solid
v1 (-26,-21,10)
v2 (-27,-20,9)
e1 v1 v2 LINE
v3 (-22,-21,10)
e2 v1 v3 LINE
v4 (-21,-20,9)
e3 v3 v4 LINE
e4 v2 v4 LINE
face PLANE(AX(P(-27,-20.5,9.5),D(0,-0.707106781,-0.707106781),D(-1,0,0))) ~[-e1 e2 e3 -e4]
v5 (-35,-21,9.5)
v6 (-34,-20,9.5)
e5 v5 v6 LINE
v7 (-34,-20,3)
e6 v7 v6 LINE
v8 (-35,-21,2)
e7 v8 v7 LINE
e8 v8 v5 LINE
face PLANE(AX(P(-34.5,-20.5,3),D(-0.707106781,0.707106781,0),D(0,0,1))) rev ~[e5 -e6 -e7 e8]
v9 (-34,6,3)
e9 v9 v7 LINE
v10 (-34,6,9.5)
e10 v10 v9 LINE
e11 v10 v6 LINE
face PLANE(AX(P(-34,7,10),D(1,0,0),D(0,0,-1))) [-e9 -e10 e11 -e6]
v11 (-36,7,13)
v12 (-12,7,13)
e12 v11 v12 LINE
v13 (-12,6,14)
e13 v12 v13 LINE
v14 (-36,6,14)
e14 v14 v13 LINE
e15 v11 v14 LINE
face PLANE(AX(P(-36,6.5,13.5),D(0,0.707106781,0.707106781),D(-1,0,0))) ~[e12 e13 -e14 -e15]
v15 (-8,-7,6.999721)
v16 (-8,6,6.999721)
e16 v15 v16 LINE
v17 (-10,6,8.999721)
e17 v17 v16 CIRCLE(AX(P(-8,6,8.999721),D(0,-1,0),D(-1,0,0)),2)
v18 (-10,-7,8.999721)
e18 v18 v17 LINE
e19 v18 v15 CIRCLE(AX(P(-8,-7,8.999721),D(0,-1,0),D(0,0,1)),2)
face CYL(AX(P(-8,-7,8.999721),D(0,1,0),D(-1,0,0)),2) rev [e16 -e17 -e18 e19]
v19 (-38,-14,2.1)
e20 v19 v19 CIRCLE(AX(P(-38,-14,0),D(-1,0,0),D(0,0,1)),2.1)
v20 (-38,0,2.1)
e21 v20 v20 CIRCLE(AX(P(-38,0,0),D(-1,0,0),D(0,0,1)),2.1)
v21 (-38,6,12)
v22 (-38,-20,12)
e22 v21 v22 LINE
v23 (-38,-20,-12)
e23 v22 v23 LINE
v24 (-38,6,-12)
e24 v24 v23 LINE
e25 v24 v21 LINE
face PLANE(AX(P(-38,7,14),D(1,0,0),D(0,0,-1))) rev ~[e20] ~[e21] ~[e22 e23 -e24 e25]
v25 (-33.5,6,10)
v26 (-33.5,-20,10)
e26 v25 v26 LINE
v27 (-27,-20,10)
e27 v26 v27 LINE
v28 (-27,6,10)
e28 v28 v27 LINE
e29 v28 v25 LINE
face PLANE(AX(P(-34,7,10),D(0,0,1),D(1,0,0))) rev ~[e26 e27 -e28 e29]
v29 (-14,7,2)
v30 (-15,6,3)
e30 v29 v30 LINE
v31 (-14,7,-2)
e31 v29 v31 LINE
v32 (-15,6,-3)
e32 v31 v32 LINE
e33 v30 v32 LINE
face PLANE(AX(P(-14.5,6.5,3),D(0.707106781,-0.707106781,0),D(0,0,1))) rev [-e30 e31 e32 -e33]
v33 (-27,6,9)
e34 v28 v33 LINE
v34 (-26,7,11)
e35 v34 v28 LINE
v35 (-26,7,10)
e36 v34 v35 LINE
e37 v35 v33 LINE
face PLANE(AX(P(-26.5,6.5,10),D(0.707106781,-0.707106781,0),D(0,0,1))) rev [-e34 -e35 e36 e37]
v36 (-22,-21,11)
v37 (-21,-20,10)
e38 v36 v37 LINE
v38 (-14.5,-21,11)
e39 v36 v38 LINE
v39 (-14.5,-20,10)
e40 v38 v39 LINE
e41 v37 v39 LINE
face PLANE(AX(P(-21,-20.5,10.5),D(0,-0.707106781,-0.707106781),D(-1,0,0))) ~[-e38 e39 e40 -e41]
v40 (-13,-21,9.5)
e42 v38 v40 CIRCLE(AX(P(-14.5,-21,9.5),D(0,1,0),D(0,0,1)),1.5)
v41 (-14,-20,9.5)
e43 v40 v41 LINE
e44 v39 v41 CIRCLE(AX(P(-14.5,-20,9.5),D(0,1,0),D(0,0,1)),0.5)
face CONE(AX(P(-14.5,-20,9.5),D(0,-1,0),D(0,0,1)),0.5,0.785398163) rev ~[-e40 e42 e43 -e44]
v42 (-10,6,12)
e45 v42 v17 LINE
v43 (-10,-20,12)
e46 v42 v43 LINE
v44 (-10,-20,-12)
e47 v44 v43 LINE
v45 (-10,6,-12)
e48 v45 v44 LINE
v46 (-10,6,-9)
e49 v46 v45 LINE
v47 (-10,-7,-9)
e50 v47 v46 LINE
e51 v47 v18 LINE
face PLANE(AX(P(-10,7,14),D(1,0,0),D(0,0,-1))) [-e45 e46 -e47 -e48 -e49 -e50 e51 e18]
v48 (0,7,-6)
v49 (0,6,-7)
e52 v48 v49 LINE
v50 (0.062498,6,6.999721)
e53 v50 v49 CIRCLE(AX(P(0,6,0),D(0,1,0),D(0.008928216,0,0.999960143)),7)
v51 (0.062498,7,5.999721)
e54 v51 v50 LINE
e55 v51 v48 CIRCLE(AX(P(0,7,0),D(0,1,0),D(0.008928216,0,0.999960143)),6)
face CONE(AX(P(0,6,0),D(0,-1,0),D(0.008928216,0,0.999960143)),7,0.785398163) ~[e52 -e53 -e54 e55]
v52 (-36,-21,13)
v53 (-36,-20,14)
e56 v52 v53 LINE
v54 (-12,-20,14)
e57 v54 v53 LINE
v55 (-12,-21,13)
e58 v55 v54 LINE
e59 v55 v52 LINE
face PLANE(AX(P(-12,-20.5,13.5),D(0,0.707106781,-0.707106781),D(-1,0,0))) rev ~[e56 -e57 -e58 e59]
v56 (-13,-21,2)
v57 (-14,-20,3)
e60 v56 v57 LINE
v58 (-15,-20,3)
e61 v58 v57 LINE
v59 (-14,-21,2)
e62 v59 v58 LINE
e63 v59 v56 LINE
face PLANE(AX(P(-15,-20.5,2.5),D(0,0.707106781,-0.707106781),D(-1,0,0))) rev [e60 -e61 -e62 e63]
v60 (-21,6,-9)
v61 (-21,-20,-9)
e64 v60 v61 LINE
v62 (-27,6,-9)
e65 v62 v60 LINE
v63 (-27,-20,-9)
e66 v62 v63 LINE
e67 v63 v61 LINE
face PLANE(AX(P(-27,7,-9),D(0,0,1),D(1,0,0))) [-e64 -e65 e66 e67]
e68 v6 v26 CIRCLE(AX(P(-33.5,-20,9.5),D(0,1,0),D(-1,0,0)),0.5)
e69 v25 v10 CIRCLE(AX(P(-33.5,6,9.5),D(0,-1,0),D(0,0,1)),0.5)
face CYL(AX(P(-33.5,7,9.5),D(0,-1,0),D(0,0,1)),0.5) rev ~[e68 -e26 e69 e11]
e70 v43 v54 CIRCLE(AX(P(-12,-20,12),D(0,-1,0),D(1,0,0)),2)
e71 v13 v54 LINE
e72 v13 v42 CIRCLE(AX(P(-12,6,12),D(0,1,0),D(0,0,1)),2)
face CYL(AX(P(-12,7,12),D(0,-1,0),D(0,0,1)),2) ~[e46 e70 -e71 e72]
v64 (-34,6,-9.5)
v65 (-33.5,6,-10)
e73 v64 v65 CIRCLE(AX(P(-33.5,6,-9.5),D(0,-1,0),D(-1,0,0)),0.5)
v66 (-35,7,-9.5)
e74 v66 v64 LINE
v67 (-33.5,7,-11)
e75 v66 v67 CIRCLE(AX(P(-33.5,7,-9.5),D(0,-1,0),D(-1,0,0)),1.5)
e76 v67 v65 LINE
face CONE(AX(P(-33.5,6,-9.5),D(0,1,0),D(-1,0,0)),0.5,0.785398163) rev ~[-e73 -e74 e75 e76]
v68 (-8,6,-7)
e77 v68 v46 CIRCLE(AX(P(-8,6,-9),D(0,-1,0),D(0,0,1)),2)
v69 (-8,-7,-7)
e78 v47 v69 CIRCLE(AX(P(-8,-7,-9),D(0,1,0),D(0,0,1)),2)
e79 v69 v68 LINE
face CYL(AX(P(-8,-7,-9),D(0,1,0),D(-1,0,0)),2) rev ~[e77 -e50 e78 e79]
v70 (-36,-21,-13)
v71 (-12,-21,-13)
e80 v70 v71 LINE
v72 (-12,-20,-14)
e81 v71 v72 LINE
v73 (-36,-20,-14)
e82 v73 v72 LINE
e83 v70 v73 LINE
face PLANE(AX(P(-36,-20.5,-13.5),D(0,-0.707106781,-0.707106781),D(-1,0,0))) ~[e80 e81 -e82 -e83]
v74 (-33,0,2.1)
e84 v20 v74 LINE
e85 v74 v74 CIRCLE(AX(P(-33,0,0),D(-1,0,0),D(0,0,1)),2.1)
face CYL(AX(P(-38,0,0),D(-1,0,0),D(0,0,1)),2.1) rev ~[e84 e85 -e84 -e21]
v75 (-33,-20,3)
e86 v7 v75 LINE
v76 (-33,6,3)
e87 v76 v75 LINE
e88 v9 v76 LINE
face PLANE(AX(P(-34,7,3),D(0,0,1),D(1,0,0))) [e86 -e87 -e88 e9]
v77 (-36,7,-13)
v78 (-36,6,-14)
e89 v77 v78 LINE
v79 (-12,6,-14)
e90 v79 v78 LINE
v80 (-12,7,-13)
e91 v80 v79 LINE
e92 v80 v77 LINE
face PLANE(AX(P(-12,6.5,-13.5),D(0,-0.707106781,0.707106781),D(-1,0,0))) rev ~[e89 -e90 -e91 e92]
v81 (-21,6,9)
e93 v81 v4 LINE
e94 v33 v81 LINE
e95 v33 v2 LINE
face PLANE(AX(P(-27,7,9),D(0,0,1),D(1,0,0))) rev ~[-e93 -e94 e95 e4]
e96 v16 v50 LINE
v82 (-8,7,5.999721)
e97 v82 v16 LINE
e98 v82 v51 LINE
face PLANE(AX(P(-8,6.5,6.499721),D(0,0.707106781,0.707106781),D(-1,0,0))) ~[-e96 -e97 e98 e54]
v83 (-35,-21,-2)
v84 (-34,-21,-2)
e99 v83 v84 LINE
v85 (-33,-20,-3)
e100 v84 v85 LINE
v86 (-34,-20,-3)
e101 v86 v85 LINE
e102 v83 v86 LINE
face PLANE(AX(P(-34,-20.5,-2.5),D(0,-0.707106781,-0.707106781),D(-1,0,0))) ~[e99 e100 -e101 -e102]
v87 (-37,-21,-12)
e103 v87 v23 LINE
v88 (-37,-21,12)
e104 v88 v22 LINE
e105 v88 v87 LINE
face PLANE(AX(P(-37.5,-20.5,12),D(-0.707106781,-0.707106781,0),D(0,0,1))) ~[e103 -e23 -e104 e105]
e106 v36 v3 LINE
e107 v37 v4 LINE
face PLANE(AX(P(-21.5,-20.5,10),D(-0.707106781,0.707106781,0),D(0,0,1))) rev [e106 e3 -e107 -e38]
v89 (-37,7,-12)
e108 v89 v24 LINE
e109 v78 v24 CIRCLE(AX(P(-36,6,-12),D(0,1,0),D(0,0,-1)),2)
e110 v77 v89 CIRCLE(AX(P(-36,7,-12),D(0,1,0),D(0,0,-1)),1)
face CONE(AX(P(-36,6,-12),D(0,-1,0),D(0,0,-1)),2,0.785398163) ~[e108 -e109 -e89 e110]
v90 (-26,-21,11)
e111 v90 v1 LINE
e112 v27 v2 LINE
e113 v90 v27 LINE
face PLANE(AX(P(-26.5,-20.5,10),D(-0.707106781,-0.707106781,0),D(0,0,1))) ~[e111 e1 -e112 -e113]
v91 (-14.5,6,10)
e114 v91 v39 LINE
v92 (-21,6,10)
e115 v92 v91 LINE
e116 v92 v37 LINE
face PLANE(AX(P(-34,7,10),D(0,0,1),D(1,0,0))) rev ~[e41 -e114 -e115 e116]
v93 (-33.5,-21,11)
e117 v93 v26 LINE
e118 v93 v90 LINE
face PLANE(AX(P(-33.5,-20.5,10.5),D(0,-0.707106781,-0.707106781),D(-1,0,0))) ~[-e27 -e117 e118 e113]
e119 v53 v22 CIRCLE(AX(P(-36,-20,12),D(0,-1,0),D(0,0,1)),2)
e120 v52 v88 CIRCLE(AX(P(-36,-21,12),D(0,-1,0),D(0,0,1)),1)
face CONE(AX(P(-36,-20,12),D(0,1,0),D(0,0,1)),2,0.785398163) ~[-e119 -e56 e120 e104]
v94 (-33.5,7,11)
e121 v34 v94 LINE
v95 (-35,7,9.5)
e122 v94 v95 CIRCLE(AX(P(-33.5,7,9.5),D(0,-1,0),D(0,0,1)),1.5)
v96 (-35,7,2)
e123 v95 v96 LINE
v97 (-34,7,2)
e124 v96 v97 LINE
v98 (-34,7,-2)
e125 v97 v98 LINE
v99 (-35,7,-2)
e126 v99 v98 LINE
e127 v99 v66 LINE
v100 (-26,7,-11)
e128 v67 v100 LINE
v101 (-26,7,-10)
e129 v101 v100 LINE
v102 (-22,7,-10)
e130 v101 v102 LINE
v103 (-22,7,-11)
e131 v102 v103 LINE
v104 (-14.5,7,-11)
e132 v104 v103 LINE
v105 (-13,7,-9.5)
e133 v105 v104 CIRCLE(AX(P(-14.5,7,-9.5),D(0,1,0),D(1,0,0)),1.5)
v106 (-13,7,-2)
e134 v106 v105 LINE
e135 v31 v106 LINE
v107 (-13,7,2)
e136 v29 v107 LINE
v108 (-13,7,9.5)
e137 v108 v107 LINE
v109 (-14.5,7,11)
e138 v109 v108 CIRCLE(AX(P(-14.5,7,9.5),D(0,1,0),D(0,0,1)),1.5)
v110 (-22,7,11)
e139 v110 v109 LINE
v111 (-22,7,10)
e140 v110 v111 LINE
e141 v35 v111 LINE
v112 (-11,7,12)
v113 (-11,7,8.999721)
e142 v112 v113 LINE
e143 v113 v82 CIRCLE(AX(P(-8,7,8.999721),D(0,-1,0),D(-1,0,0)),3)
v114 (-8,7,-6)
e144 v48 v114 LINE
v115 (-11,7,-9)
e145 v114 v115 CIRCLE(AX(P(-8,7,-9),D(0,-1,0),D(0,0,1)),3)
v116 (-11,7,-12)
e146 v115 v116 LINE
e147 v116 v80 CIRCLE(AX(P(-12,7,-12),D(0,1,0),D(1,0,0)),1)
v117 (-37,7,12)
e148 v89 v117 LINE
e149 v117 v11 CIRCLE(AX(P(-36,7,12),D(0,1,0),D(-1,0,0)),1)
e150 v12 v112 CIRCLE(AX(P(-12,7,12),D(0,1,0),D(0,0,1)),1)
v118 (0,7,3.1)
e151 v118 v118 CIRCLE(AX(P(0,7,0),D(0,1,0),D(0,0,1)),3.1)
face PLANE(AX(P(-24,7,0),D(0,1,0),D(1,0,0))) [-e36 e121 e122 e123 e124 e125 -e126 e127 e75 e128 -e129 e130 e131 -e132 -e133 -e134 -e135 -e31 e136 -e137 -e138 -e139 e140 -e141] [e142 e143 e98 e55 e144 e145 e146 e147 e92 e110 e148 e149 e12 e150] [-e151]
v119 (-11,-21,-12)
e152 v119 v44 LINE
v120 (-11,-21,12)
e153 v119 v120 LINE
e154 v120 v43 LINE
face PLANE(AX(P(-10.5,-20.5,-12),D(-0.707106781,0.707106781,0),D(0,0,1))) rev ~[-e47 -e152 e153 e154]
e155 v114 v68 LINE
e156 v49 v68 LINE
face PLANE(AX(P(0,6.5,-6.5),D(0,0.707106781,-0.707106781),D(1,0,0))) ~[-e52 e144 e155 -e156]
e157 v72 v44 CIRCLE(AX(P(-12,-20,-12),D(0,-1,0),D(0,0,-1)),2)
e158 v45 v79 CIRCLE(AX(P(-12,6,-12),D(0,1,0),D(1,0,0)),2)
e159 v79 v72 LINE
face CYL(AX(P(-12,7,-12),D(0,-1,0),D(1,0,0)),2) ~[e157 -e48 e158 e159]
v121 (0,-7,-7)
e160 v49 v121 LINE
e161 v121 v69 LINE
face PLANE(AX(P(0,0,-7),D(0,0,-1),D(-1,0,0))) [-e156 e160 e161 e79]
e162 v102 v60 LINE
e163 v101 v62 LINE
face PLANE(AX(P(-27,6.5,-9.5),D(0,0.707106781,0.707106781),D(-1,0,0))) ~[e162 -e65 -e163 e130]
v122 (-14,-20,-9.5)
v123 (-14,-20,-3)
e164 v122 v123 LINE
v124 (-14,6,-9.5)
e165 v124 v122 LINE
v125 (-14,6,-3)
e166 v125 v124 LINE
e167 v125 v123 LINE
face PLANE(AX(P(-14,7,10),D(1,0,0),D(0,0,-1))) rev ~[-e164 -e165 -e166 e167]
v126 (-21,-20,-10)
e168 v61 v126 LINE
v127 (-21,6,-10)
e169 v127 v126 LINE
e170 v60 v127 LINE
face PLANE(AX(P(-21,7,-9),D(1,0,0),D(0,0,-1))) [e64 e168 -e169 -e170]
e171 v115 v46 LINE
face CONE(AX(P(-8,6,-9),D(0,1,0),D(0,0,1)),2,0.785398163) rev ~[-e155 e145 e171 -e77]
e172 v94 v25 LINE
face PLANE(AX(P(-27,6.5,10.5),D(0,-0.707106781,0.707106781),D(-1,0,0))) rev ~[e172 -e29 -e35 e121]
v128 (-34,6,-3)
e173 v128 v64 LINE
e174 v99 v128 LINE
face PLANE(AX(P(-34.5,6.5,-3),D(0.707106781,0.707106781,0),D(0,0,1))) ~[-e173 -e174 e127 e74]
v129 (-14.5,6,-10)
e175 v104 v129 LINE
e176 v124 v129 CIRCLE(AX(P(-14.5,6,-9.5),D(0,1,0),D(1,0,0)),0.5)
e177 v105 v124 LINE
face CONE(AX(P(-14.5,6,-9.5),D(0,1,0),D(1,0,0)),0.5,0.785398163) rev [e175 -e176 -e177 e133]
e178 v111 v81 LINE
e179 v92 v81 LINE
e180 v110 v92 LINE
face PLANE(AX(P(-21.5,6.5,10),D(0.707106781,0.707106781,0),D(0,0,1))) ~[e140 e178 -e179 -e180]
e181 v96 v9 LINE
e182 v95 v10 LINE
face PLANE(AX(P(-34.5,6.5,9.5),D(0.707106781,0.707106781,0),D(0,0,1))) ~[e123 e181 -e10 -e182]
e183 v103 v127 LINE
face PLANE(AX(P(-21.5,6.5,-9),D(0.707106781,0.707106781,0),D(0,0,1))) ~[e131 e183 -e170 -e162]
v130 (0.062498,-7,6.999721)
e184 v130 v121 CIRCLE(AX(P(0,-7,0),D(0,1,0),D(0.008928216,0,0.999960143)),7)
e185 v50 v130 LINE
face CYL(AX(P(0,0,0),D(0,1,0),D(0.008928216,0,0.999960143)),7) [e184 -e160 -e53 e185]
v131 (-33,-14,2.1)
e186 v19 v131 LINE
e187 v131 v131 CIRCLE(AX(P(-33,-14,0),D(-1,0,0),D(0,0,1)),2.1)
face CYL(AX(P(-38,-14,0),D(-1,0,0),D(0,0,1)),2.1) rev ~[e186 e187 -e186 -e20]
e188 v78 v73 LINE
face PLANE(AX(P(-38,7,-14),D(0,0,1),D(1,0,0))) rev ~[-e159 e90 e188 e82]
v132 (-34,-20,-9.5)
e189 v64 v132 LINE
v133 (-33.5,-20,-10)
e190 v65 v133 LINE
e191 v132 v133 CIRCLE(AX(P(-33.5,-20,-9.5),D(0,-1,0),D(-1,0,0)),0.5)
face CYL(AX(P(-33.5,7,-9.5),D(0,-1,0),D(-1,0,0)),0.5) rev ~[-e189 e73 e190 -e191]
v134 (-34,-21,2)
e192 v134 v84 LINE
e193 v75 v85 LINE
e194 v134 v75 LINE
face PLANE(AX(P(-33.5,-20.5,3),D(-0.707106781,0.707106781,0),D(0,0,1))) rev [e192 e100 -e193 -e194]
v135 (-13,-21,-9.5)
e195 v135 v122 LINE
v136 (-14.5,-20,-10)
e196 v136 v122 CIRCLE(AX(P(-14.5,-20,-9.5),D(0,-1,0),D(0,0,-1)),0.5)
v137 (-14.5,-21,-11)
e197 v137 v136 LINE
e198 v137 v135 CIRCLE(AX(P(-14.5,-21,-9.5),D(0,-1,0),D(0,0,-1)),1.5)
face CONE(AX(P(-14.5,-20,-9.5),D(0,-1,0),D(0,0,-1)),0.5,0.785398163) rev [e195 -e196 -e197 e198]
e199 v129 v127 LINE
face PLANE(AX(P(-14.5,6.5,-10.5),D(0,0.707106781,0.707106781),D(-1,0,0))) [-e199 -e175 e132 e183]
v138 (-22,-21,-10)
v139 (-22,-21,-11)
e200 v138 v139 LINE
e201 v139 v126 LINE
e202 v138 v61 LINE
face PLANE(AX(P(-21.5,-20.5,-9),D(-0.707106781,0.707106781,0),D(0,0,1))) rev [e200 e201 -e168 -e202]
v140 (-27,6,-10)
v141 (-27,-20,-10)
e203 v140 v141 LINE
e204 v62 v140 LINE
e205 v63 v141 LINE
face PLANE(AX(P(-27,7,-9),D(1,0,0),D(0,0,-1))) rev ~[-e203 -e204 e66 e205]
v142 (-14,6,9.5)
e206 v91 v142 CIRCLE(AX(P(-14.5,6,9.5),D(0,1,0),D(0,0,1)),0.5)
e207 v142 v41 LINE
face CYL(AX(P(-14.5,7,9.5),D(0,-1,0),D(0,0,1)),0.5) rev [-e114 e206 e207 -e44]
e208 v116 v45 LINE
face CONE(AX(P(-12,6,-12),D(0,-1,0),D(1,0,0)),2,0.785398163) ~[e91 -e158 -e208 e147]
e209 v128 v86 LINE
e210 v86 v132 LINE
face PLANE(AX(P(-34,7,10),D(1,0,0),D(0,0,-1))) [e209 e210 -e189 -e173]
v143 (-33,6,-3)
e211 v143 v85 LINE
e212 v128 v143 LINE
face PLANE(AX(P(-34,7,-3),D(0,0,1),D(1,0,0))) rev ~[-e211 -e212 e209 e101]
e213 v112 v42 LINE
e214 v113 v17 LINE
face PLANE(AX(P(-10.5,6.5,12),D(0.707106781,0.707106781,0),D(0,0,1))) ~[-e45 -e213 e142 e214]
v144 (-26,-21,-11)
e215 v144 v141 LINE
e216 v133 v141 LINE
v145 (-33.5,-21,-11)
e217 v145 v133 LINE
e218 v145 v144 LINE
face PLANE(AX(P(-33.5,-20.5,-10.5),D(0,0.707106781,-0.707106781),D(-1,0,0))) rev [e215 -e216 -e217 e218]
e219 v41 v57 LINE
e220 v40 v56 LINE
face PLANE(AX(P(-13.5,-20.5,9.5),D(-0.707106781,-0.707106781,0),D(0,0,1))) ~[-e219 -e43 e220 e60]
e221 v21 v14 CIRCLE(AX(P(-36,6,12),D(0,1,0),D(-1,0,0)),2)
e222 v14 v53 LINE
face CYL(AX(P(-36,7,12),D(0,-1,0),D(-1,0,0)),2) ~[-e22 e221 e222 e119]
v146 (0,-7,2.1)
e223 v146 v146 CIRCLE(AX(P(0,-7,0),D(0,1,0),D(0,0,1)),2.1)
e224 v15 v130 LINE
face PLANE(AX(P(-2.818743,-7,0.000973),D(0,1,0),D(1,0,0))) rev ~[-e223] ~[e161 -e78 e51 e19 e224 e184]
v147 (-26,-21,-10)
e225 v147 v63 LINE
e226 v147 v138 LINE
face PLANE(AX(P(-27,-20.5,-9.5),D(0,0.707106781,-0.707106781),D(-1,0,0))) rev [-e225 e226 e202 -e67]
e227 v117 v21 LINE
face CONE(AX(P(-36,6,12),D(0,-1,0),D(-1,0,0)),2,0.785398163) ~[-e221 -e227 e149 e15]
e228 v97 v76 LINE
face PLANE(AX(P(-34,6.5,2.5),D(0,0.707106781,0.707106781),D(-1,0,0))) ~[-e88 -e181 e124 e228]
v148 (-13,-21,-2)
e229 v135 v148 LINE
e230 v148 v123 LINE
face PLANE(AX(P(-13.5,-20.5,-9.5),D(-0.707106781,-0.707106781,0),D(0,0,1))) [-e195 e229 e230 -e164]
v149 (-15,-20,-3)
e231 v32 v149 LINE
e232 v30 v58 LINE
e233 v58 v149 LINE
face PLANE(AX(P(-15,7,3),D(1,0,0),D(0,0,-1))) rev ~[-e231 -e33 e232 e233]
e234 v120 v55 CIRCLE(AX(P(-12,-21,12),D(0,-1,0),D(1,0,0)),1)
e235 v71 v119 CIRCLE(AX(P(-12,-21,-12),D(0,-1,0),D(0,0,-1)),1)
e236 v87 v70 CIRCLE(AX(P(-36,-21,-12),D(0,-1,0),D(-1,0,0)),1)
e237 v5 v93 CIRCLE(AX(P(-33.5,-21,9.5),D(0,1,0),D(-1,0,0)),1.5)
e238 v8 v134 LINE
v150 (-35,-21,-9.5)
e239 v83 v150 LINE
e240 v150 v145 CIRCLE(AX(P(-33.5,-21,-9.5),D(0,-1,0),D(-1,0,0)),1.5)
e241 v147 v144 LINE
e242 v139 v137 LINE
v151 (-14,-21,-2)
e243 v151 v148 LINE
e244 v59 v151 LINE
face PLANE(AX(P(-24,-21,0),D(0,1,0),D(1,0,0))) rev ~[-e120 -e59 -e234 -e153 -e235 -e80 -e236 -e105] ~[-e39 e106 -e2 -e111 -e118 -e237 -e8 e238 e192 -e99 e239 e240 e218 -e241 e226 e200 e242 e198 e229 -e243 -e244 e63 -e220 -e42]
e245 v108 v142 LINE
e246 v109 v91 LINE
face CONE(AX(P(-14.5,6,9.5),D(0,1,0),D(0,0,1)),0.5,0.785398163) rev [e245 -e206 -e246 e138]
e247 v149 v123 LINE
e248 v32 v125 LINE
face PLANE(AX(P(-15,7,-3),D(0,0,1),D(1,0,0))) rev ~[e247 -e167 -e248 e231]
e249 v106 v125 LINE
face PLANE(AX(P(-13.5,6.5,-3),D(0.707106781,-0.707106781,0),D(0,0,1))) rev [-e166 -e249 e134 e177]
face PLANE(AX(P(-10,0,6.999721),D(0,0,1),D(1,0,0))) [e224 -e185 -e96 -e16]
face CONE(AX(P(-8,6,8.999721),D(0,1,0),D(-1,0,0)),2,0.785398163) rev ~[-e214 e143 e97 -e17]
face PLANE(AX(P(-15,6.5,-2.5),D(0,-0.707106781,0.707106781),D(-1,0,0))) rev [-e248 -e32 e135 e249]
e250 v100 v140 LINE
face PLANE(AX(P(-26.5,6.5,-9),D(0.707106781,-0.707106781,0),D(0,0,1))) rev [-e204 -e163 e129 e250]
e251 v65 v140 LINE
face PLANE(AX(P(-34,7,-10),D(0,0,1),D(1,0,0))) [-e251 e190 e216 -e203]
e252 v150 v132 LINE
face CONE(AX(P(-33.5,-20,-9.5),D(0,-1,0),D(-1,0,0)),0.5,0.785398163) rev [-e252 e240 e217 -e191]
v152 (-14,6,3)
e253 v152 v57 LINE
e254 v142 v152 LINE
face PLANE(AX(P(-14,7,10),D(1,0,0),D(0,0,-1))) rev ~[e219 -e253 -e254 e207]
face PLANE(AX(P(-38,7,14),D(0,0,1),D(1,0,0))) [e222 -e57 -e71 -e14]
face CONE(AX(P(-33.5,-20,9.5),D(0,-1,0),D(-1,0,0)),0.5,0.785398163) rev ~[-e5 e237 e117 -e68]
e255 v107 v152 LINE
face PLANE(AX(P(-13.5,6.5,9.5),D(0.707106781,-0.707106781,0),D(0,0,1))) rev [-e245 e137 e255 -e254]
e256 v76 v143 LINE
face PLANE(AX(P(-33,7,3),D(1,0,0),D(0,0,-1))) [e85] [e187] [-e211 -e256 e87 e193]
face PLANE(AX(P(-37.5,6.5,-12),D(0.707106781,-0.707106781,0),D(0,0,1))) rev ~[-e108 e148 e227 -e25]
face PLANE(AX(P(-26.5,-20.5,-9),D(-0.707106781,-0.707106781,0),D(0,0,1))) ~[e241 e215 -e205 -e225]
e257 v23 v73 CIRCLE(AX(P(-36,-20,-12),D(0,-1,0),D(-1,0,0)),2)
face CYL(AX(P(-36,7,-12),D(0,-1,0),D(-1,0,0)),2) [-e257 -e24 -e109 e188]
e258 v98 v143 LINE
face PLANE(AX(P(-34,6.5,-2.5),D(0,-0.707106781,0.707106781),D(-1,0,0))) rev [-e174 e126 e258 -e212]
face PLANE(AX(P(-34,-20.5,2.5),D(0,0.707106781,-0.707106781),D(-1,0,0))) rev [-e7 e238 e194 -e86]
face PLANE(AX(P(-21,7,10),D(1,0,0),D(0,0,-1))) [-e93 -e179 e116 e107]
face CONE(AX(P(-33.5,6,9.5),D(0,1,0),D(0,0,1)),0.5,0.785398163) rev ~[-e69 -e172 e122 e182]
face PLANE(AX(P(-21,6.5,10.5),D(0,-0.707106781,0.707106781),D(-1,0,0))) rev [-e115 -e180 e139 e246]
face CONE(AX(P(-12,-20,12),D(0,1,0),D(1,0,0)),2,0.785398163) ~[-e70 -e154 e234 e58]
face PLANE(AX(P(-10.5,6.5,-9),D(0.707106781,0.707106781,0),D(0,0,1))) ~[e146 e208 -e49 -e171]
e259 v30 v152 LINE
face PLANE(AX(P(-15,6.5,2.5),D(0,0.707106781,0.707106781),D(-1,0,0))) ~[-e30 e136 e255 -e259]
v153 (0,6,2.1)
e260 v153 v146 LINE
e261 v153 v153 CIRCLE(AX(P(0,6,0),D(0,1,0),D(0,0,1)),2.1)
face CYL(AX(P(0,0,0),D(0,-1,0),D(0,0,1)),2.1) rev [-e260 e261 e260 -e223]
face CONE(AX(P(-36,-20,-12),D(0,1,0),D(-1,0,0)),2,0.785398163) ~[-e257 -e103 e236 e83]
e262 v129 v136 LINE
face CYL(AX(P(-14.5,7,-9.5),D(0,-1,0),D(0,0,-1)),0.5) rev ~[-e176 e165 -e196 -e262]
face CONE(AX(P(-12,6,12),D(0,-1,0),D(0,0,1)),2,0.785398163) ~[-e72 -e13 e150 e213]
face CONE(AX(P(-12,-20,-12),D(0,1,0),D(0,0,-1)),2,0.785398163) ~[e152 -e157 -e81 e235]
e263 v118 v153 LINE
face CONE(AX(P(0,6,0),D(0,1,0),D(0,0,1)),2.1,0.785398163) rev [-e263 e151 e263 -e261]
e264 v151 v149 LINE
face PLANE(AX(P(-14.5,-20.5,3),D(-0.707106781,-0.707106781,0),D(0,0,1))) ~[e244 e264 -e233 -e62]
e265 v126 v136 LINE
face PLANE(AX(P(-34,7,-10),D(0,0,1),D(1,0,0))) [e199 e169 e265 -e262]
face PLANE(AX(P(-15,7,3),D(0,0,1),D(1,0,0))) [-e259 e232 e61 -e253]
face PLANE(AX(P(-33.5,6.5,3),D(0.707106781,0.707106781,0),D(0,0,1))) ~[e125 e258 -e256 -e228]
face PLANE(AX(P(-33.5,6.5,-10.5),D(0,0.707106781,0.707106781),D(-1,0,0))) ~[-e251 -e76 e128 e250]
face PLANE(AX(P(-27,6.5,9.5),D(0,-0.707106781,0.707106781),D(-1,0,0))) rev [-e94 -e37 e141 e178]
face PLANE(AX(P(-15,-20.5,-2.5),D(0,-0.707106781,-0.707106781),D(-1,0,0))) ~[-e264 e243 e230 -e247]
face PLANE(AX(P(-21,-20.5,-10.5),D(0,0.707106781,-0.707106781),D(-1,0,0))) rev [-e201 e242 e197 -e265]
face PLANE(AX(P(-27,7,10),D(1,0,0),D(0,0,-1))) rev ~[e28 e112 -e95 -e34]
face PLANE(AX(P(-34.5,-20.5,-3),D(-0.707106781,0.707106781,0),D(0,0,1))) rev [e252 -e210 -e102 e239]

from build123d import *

# Parameters (mm, degrees)
CROQUIS1_R              = 2.1
SALIENTE_EXTRUIR1_DEPTH = 7
CROQUIS2_W              = 28
CROQUIS2_H              = 28
CROQUIS2_W_2            = 20
CROQUIS2_H_2            = 20
SALIENTE_EXTRUIR2_DEPTH = 28
CROQUIS3_W              = 6
CROQUIS3_H              = 1
CROQUIS3_W_2            = 1
CROQUIS3_H_2            = 6
SALIENTE_EXTRUIR3_DEPTH = 28
REDONDEO1_R             = 0.5
REDONDEO2_R             = 2
REDONDEO3_R             = 2
CHAFL_N1_SIZE           = 1
CHAFL_N3_SIZE           = 1
CORTAR_EXTRUIR2_REACH   = 53.595
CROQUIS4_R              = 2.1


with BuildPart() as part:
    # Croquis1 → Saliente-Extruir1 (new, symmetric)
    with BuildSketch(Plane(origin=(0, 0, 0), x_dir=(1, 0, 0), z_dir=(0, 1, 0))):
        with BuildLine():
            Line((0, 7), (-10, 7))
            Line((-10, 7), (-10, -6.999720999))
            Line((-10, -6.999720999), (0.062497509, -6.999720999))
            ThreePointArc((0.062497509, -6.999720999), (6.999930249, 0.031249066), (0, 7))
        make_face()
        with Locations(Location((0, 0, 0), (0, 0, 270))):
            Circle(CROQUIS1_R, mode=Mode.SUBTRACT)
    extrude(amount=SALIENTE_EXTRUIR1_DEPTH, both=True)

    # Croquis2 → Saliente-Extruir2 (add)
    with BuildSketch(Plane(origin=(0, 7, 0), x_dir=(1, 0, 0), z_dir=(0, 1, 0))):
        with Locations((-24, 0)):
            Rectangle(CROQUIS2_W, CROQUIS2_H)
        with Locations((-24, 0)):
            Rectangle(CROQUIS2_W_2, CROQUIS2_H_2, mode=Mode.SUBTRACT)
    extrude(amount=-SALIENTE_EXTRUIR2_DEPTH)

    # Croquis3 → Saliente-Extruir3 (add, through all)
    with BuildSketch(Plane(origin=(0, 7, 0), x_dir=(1, 0, 0), z_dir=(0, 1, 0))):
        with Locations((-24, 9.5)):
            Rectangle(CROQUIS3_W, CROQUIS3_H)
        with Locations((-14.5, 0)):
            Rectangle(CROQUIS3_W_2, CROQUIS3_H_2)
        with Locations((-24, -9.5)):
            Rectangle(CROQUIS3_W, CROQUIS3_H)
        with Locations((-33.5, 0)):
            Rectangle(CROQUIS3_W_2, CROQUIS3_H_2)
    extrude(amount=-SALIENTE_EXTRUIR3_DEPTH)

    # Redondeo1
    redondeo1_edges = [part.edges().sort_by_distance(p)[0] for p in [
        (-14, -7, 10),
        (-34, -7, 10),
        (-34, -7, -10),
        (-14, -7, -10),
    ]]
    fillet(redondeo1_edges, radius=REDONDEO1_R)

    # Redondeo2
    redondeo2_edges = [part.edges().sort_by_distance(p)[0] for p in [
        (-10, -7, -14),
        (-10, -7, 14),
        (-38, -7, 14),
        (-38, -7, -14),
    ]]
    fillet(redondeo2_edges, radius=REDONDEO2_R)

    # Redondeo3
    redondeo3_edges = [part.edges().sort_by_distance(p)[0] for p in [
        (-10, 0, 6.999720999),
        (-10, 0, -7),
    ]]
    fillet(redondeo3_edges, radius=REDONDEO3_R)

    # Chaflán1
    chafl_n1_edges = [part.edges().sort_by_distance(p)[0] for p in [
        (-30.25, -21, 10),
        (-14.146446609, -21, 9.853553391),
        (-14.146446609, -21, -9.853553391),
        (-33.853553391, -21, -9.853553391),
        (-33.853553391, -21, 9.853553391),
        (-24, -21, -14),
        (-38, -21, 0),
        (-10, -21, 0),
        (-24, -21, 14),
        (-10.585786438, -21, 13.414213562),
        (-37.414213562, -21, 13.414213562),
        (-10.585786438, -21, -13.414213562),
        (-37.414213562, -21, -13.414213562),
        (-30.25, -21, -10),
        (-21, -21, -9.5),
        (-24, -21, -9),
        (-27, -21, -9.5),
        (-14, -21, -6.25),
        (-14.5, -21, 3),
        (-15, -21, 0),
        (-14.5, -21, -3),
        (-17.75, -21, 10),
        (-27, -21, 9.5),
        (-24, -21, 9),
        (-21, -21, 9.5),
        (-34, -21, 6.25),
        (-33, -21, 0),
        (-33.5, -21, 3),
        (-33.5, -21, -3),
        (-14, -21, 6.25),
        (-17.75, -21, -10),
        (-34, -21, -6.25),
    ]]
    chamfer(chafl_n1_edges, length=CHAFL_N1_SIZE)

    # Chaflán3
    chafl_n3_edges = [part.edges().sort_by_distance(p)[0] for p in [
        (-21, 7, -9.5),
        (-24, 7, -9),
        (-27, 7, -9.5),
        (-30.25, 7, -10),
        (-33.853553391, 7, -9.853553391),
        (-34, 7, -6.25),
        (-33.5, 7, -3),
        (-33, 7, 0),
        (-33.5, 7, 3),
        (-34, 7, 6.25),
        (-33.853553391, 7, 9.853553391),
        (-30.25, 7, 10),
        (-27, 7, 9.5),
        (-24, 7, 9),
        (-21, 7, 9.5),
        (-17.75, 7, 10),
        (-14.146446609, 7, 9.853553391),
        (-14, 7, 6.25),
        (-14.5, 7, 3),
        (-15, 7, 0),
        (-14.5, 7, -3),
        (-14, 7, -6.25),
        (-14.146446609, 7, -9.853553391),
        (-17.75, 7, -10),
        (0, 7, -2.1),
        (-10.585786438, 7, -13.414213562),
        (-10, 7, -10.5),
        (-9.414213562, 7, -7.585786438),
        (-4, 7, -7),
        (6.999930249, 7, -0.031249066),
        (-3.968751246, 7, 6.999720999),
        (-9.414213562, 7, 7.585507436),
        (-10, 7, 10.499860499),
        (-10.585786438, 7, 13.414213562),
        (-24, 7, 14),
        (-37.414213562, 7, 13.414213562),
        (-38, 7, 0),
        (-37.414213562, 7, -13.414213562),
        (-24, 7, -14),
    ]]
    chamfer(chafl_n3_edges, length=CHAFL_N3_SIZE)

    # Croquis4 → Cortar-Extruir2 (cut, up to next)
    with BuildSketch(Plane.ZY.offset(38), mode=Mode.PRIVATE) as cortar_extruir2_sk1:
        Circle(CROQUIS4_R)
    cortar_extruir2_tool1 = extrude(cortar_extruir2_sk1.sketch, amount=-CORTAR_EXTRUIR2_REACH, mode=Mode.PRIVATE) & part.part
    # Croquis4 → Cortar-Extruir2 (cut, up to next)
    with BuildSketch(Plane.ZY.offset(38), mode=Mode.PRIVATE) as cortar_extruir2_sk2:
        with Locations((0, -14)):
            Circle(CROQUIS4_R)
    cortar_extruir2_tool2 = extrude(cortar_extruir2_sk2.sketch, amount=-CORTAR_EXTRUIR2_REACH, mode=Mode.PRIVATE) & part.part
    add(cortar_extruir2_tool1.solids().sort_by_distance((-38, 0, 0))[0], mode=Mode.SUBTRACT)
    add(cortar_extruir2_tool2.solids().sort_by_distance((-38, -14, 0))[0], mode=Mode.SUBTRACT)


solid = part.part
